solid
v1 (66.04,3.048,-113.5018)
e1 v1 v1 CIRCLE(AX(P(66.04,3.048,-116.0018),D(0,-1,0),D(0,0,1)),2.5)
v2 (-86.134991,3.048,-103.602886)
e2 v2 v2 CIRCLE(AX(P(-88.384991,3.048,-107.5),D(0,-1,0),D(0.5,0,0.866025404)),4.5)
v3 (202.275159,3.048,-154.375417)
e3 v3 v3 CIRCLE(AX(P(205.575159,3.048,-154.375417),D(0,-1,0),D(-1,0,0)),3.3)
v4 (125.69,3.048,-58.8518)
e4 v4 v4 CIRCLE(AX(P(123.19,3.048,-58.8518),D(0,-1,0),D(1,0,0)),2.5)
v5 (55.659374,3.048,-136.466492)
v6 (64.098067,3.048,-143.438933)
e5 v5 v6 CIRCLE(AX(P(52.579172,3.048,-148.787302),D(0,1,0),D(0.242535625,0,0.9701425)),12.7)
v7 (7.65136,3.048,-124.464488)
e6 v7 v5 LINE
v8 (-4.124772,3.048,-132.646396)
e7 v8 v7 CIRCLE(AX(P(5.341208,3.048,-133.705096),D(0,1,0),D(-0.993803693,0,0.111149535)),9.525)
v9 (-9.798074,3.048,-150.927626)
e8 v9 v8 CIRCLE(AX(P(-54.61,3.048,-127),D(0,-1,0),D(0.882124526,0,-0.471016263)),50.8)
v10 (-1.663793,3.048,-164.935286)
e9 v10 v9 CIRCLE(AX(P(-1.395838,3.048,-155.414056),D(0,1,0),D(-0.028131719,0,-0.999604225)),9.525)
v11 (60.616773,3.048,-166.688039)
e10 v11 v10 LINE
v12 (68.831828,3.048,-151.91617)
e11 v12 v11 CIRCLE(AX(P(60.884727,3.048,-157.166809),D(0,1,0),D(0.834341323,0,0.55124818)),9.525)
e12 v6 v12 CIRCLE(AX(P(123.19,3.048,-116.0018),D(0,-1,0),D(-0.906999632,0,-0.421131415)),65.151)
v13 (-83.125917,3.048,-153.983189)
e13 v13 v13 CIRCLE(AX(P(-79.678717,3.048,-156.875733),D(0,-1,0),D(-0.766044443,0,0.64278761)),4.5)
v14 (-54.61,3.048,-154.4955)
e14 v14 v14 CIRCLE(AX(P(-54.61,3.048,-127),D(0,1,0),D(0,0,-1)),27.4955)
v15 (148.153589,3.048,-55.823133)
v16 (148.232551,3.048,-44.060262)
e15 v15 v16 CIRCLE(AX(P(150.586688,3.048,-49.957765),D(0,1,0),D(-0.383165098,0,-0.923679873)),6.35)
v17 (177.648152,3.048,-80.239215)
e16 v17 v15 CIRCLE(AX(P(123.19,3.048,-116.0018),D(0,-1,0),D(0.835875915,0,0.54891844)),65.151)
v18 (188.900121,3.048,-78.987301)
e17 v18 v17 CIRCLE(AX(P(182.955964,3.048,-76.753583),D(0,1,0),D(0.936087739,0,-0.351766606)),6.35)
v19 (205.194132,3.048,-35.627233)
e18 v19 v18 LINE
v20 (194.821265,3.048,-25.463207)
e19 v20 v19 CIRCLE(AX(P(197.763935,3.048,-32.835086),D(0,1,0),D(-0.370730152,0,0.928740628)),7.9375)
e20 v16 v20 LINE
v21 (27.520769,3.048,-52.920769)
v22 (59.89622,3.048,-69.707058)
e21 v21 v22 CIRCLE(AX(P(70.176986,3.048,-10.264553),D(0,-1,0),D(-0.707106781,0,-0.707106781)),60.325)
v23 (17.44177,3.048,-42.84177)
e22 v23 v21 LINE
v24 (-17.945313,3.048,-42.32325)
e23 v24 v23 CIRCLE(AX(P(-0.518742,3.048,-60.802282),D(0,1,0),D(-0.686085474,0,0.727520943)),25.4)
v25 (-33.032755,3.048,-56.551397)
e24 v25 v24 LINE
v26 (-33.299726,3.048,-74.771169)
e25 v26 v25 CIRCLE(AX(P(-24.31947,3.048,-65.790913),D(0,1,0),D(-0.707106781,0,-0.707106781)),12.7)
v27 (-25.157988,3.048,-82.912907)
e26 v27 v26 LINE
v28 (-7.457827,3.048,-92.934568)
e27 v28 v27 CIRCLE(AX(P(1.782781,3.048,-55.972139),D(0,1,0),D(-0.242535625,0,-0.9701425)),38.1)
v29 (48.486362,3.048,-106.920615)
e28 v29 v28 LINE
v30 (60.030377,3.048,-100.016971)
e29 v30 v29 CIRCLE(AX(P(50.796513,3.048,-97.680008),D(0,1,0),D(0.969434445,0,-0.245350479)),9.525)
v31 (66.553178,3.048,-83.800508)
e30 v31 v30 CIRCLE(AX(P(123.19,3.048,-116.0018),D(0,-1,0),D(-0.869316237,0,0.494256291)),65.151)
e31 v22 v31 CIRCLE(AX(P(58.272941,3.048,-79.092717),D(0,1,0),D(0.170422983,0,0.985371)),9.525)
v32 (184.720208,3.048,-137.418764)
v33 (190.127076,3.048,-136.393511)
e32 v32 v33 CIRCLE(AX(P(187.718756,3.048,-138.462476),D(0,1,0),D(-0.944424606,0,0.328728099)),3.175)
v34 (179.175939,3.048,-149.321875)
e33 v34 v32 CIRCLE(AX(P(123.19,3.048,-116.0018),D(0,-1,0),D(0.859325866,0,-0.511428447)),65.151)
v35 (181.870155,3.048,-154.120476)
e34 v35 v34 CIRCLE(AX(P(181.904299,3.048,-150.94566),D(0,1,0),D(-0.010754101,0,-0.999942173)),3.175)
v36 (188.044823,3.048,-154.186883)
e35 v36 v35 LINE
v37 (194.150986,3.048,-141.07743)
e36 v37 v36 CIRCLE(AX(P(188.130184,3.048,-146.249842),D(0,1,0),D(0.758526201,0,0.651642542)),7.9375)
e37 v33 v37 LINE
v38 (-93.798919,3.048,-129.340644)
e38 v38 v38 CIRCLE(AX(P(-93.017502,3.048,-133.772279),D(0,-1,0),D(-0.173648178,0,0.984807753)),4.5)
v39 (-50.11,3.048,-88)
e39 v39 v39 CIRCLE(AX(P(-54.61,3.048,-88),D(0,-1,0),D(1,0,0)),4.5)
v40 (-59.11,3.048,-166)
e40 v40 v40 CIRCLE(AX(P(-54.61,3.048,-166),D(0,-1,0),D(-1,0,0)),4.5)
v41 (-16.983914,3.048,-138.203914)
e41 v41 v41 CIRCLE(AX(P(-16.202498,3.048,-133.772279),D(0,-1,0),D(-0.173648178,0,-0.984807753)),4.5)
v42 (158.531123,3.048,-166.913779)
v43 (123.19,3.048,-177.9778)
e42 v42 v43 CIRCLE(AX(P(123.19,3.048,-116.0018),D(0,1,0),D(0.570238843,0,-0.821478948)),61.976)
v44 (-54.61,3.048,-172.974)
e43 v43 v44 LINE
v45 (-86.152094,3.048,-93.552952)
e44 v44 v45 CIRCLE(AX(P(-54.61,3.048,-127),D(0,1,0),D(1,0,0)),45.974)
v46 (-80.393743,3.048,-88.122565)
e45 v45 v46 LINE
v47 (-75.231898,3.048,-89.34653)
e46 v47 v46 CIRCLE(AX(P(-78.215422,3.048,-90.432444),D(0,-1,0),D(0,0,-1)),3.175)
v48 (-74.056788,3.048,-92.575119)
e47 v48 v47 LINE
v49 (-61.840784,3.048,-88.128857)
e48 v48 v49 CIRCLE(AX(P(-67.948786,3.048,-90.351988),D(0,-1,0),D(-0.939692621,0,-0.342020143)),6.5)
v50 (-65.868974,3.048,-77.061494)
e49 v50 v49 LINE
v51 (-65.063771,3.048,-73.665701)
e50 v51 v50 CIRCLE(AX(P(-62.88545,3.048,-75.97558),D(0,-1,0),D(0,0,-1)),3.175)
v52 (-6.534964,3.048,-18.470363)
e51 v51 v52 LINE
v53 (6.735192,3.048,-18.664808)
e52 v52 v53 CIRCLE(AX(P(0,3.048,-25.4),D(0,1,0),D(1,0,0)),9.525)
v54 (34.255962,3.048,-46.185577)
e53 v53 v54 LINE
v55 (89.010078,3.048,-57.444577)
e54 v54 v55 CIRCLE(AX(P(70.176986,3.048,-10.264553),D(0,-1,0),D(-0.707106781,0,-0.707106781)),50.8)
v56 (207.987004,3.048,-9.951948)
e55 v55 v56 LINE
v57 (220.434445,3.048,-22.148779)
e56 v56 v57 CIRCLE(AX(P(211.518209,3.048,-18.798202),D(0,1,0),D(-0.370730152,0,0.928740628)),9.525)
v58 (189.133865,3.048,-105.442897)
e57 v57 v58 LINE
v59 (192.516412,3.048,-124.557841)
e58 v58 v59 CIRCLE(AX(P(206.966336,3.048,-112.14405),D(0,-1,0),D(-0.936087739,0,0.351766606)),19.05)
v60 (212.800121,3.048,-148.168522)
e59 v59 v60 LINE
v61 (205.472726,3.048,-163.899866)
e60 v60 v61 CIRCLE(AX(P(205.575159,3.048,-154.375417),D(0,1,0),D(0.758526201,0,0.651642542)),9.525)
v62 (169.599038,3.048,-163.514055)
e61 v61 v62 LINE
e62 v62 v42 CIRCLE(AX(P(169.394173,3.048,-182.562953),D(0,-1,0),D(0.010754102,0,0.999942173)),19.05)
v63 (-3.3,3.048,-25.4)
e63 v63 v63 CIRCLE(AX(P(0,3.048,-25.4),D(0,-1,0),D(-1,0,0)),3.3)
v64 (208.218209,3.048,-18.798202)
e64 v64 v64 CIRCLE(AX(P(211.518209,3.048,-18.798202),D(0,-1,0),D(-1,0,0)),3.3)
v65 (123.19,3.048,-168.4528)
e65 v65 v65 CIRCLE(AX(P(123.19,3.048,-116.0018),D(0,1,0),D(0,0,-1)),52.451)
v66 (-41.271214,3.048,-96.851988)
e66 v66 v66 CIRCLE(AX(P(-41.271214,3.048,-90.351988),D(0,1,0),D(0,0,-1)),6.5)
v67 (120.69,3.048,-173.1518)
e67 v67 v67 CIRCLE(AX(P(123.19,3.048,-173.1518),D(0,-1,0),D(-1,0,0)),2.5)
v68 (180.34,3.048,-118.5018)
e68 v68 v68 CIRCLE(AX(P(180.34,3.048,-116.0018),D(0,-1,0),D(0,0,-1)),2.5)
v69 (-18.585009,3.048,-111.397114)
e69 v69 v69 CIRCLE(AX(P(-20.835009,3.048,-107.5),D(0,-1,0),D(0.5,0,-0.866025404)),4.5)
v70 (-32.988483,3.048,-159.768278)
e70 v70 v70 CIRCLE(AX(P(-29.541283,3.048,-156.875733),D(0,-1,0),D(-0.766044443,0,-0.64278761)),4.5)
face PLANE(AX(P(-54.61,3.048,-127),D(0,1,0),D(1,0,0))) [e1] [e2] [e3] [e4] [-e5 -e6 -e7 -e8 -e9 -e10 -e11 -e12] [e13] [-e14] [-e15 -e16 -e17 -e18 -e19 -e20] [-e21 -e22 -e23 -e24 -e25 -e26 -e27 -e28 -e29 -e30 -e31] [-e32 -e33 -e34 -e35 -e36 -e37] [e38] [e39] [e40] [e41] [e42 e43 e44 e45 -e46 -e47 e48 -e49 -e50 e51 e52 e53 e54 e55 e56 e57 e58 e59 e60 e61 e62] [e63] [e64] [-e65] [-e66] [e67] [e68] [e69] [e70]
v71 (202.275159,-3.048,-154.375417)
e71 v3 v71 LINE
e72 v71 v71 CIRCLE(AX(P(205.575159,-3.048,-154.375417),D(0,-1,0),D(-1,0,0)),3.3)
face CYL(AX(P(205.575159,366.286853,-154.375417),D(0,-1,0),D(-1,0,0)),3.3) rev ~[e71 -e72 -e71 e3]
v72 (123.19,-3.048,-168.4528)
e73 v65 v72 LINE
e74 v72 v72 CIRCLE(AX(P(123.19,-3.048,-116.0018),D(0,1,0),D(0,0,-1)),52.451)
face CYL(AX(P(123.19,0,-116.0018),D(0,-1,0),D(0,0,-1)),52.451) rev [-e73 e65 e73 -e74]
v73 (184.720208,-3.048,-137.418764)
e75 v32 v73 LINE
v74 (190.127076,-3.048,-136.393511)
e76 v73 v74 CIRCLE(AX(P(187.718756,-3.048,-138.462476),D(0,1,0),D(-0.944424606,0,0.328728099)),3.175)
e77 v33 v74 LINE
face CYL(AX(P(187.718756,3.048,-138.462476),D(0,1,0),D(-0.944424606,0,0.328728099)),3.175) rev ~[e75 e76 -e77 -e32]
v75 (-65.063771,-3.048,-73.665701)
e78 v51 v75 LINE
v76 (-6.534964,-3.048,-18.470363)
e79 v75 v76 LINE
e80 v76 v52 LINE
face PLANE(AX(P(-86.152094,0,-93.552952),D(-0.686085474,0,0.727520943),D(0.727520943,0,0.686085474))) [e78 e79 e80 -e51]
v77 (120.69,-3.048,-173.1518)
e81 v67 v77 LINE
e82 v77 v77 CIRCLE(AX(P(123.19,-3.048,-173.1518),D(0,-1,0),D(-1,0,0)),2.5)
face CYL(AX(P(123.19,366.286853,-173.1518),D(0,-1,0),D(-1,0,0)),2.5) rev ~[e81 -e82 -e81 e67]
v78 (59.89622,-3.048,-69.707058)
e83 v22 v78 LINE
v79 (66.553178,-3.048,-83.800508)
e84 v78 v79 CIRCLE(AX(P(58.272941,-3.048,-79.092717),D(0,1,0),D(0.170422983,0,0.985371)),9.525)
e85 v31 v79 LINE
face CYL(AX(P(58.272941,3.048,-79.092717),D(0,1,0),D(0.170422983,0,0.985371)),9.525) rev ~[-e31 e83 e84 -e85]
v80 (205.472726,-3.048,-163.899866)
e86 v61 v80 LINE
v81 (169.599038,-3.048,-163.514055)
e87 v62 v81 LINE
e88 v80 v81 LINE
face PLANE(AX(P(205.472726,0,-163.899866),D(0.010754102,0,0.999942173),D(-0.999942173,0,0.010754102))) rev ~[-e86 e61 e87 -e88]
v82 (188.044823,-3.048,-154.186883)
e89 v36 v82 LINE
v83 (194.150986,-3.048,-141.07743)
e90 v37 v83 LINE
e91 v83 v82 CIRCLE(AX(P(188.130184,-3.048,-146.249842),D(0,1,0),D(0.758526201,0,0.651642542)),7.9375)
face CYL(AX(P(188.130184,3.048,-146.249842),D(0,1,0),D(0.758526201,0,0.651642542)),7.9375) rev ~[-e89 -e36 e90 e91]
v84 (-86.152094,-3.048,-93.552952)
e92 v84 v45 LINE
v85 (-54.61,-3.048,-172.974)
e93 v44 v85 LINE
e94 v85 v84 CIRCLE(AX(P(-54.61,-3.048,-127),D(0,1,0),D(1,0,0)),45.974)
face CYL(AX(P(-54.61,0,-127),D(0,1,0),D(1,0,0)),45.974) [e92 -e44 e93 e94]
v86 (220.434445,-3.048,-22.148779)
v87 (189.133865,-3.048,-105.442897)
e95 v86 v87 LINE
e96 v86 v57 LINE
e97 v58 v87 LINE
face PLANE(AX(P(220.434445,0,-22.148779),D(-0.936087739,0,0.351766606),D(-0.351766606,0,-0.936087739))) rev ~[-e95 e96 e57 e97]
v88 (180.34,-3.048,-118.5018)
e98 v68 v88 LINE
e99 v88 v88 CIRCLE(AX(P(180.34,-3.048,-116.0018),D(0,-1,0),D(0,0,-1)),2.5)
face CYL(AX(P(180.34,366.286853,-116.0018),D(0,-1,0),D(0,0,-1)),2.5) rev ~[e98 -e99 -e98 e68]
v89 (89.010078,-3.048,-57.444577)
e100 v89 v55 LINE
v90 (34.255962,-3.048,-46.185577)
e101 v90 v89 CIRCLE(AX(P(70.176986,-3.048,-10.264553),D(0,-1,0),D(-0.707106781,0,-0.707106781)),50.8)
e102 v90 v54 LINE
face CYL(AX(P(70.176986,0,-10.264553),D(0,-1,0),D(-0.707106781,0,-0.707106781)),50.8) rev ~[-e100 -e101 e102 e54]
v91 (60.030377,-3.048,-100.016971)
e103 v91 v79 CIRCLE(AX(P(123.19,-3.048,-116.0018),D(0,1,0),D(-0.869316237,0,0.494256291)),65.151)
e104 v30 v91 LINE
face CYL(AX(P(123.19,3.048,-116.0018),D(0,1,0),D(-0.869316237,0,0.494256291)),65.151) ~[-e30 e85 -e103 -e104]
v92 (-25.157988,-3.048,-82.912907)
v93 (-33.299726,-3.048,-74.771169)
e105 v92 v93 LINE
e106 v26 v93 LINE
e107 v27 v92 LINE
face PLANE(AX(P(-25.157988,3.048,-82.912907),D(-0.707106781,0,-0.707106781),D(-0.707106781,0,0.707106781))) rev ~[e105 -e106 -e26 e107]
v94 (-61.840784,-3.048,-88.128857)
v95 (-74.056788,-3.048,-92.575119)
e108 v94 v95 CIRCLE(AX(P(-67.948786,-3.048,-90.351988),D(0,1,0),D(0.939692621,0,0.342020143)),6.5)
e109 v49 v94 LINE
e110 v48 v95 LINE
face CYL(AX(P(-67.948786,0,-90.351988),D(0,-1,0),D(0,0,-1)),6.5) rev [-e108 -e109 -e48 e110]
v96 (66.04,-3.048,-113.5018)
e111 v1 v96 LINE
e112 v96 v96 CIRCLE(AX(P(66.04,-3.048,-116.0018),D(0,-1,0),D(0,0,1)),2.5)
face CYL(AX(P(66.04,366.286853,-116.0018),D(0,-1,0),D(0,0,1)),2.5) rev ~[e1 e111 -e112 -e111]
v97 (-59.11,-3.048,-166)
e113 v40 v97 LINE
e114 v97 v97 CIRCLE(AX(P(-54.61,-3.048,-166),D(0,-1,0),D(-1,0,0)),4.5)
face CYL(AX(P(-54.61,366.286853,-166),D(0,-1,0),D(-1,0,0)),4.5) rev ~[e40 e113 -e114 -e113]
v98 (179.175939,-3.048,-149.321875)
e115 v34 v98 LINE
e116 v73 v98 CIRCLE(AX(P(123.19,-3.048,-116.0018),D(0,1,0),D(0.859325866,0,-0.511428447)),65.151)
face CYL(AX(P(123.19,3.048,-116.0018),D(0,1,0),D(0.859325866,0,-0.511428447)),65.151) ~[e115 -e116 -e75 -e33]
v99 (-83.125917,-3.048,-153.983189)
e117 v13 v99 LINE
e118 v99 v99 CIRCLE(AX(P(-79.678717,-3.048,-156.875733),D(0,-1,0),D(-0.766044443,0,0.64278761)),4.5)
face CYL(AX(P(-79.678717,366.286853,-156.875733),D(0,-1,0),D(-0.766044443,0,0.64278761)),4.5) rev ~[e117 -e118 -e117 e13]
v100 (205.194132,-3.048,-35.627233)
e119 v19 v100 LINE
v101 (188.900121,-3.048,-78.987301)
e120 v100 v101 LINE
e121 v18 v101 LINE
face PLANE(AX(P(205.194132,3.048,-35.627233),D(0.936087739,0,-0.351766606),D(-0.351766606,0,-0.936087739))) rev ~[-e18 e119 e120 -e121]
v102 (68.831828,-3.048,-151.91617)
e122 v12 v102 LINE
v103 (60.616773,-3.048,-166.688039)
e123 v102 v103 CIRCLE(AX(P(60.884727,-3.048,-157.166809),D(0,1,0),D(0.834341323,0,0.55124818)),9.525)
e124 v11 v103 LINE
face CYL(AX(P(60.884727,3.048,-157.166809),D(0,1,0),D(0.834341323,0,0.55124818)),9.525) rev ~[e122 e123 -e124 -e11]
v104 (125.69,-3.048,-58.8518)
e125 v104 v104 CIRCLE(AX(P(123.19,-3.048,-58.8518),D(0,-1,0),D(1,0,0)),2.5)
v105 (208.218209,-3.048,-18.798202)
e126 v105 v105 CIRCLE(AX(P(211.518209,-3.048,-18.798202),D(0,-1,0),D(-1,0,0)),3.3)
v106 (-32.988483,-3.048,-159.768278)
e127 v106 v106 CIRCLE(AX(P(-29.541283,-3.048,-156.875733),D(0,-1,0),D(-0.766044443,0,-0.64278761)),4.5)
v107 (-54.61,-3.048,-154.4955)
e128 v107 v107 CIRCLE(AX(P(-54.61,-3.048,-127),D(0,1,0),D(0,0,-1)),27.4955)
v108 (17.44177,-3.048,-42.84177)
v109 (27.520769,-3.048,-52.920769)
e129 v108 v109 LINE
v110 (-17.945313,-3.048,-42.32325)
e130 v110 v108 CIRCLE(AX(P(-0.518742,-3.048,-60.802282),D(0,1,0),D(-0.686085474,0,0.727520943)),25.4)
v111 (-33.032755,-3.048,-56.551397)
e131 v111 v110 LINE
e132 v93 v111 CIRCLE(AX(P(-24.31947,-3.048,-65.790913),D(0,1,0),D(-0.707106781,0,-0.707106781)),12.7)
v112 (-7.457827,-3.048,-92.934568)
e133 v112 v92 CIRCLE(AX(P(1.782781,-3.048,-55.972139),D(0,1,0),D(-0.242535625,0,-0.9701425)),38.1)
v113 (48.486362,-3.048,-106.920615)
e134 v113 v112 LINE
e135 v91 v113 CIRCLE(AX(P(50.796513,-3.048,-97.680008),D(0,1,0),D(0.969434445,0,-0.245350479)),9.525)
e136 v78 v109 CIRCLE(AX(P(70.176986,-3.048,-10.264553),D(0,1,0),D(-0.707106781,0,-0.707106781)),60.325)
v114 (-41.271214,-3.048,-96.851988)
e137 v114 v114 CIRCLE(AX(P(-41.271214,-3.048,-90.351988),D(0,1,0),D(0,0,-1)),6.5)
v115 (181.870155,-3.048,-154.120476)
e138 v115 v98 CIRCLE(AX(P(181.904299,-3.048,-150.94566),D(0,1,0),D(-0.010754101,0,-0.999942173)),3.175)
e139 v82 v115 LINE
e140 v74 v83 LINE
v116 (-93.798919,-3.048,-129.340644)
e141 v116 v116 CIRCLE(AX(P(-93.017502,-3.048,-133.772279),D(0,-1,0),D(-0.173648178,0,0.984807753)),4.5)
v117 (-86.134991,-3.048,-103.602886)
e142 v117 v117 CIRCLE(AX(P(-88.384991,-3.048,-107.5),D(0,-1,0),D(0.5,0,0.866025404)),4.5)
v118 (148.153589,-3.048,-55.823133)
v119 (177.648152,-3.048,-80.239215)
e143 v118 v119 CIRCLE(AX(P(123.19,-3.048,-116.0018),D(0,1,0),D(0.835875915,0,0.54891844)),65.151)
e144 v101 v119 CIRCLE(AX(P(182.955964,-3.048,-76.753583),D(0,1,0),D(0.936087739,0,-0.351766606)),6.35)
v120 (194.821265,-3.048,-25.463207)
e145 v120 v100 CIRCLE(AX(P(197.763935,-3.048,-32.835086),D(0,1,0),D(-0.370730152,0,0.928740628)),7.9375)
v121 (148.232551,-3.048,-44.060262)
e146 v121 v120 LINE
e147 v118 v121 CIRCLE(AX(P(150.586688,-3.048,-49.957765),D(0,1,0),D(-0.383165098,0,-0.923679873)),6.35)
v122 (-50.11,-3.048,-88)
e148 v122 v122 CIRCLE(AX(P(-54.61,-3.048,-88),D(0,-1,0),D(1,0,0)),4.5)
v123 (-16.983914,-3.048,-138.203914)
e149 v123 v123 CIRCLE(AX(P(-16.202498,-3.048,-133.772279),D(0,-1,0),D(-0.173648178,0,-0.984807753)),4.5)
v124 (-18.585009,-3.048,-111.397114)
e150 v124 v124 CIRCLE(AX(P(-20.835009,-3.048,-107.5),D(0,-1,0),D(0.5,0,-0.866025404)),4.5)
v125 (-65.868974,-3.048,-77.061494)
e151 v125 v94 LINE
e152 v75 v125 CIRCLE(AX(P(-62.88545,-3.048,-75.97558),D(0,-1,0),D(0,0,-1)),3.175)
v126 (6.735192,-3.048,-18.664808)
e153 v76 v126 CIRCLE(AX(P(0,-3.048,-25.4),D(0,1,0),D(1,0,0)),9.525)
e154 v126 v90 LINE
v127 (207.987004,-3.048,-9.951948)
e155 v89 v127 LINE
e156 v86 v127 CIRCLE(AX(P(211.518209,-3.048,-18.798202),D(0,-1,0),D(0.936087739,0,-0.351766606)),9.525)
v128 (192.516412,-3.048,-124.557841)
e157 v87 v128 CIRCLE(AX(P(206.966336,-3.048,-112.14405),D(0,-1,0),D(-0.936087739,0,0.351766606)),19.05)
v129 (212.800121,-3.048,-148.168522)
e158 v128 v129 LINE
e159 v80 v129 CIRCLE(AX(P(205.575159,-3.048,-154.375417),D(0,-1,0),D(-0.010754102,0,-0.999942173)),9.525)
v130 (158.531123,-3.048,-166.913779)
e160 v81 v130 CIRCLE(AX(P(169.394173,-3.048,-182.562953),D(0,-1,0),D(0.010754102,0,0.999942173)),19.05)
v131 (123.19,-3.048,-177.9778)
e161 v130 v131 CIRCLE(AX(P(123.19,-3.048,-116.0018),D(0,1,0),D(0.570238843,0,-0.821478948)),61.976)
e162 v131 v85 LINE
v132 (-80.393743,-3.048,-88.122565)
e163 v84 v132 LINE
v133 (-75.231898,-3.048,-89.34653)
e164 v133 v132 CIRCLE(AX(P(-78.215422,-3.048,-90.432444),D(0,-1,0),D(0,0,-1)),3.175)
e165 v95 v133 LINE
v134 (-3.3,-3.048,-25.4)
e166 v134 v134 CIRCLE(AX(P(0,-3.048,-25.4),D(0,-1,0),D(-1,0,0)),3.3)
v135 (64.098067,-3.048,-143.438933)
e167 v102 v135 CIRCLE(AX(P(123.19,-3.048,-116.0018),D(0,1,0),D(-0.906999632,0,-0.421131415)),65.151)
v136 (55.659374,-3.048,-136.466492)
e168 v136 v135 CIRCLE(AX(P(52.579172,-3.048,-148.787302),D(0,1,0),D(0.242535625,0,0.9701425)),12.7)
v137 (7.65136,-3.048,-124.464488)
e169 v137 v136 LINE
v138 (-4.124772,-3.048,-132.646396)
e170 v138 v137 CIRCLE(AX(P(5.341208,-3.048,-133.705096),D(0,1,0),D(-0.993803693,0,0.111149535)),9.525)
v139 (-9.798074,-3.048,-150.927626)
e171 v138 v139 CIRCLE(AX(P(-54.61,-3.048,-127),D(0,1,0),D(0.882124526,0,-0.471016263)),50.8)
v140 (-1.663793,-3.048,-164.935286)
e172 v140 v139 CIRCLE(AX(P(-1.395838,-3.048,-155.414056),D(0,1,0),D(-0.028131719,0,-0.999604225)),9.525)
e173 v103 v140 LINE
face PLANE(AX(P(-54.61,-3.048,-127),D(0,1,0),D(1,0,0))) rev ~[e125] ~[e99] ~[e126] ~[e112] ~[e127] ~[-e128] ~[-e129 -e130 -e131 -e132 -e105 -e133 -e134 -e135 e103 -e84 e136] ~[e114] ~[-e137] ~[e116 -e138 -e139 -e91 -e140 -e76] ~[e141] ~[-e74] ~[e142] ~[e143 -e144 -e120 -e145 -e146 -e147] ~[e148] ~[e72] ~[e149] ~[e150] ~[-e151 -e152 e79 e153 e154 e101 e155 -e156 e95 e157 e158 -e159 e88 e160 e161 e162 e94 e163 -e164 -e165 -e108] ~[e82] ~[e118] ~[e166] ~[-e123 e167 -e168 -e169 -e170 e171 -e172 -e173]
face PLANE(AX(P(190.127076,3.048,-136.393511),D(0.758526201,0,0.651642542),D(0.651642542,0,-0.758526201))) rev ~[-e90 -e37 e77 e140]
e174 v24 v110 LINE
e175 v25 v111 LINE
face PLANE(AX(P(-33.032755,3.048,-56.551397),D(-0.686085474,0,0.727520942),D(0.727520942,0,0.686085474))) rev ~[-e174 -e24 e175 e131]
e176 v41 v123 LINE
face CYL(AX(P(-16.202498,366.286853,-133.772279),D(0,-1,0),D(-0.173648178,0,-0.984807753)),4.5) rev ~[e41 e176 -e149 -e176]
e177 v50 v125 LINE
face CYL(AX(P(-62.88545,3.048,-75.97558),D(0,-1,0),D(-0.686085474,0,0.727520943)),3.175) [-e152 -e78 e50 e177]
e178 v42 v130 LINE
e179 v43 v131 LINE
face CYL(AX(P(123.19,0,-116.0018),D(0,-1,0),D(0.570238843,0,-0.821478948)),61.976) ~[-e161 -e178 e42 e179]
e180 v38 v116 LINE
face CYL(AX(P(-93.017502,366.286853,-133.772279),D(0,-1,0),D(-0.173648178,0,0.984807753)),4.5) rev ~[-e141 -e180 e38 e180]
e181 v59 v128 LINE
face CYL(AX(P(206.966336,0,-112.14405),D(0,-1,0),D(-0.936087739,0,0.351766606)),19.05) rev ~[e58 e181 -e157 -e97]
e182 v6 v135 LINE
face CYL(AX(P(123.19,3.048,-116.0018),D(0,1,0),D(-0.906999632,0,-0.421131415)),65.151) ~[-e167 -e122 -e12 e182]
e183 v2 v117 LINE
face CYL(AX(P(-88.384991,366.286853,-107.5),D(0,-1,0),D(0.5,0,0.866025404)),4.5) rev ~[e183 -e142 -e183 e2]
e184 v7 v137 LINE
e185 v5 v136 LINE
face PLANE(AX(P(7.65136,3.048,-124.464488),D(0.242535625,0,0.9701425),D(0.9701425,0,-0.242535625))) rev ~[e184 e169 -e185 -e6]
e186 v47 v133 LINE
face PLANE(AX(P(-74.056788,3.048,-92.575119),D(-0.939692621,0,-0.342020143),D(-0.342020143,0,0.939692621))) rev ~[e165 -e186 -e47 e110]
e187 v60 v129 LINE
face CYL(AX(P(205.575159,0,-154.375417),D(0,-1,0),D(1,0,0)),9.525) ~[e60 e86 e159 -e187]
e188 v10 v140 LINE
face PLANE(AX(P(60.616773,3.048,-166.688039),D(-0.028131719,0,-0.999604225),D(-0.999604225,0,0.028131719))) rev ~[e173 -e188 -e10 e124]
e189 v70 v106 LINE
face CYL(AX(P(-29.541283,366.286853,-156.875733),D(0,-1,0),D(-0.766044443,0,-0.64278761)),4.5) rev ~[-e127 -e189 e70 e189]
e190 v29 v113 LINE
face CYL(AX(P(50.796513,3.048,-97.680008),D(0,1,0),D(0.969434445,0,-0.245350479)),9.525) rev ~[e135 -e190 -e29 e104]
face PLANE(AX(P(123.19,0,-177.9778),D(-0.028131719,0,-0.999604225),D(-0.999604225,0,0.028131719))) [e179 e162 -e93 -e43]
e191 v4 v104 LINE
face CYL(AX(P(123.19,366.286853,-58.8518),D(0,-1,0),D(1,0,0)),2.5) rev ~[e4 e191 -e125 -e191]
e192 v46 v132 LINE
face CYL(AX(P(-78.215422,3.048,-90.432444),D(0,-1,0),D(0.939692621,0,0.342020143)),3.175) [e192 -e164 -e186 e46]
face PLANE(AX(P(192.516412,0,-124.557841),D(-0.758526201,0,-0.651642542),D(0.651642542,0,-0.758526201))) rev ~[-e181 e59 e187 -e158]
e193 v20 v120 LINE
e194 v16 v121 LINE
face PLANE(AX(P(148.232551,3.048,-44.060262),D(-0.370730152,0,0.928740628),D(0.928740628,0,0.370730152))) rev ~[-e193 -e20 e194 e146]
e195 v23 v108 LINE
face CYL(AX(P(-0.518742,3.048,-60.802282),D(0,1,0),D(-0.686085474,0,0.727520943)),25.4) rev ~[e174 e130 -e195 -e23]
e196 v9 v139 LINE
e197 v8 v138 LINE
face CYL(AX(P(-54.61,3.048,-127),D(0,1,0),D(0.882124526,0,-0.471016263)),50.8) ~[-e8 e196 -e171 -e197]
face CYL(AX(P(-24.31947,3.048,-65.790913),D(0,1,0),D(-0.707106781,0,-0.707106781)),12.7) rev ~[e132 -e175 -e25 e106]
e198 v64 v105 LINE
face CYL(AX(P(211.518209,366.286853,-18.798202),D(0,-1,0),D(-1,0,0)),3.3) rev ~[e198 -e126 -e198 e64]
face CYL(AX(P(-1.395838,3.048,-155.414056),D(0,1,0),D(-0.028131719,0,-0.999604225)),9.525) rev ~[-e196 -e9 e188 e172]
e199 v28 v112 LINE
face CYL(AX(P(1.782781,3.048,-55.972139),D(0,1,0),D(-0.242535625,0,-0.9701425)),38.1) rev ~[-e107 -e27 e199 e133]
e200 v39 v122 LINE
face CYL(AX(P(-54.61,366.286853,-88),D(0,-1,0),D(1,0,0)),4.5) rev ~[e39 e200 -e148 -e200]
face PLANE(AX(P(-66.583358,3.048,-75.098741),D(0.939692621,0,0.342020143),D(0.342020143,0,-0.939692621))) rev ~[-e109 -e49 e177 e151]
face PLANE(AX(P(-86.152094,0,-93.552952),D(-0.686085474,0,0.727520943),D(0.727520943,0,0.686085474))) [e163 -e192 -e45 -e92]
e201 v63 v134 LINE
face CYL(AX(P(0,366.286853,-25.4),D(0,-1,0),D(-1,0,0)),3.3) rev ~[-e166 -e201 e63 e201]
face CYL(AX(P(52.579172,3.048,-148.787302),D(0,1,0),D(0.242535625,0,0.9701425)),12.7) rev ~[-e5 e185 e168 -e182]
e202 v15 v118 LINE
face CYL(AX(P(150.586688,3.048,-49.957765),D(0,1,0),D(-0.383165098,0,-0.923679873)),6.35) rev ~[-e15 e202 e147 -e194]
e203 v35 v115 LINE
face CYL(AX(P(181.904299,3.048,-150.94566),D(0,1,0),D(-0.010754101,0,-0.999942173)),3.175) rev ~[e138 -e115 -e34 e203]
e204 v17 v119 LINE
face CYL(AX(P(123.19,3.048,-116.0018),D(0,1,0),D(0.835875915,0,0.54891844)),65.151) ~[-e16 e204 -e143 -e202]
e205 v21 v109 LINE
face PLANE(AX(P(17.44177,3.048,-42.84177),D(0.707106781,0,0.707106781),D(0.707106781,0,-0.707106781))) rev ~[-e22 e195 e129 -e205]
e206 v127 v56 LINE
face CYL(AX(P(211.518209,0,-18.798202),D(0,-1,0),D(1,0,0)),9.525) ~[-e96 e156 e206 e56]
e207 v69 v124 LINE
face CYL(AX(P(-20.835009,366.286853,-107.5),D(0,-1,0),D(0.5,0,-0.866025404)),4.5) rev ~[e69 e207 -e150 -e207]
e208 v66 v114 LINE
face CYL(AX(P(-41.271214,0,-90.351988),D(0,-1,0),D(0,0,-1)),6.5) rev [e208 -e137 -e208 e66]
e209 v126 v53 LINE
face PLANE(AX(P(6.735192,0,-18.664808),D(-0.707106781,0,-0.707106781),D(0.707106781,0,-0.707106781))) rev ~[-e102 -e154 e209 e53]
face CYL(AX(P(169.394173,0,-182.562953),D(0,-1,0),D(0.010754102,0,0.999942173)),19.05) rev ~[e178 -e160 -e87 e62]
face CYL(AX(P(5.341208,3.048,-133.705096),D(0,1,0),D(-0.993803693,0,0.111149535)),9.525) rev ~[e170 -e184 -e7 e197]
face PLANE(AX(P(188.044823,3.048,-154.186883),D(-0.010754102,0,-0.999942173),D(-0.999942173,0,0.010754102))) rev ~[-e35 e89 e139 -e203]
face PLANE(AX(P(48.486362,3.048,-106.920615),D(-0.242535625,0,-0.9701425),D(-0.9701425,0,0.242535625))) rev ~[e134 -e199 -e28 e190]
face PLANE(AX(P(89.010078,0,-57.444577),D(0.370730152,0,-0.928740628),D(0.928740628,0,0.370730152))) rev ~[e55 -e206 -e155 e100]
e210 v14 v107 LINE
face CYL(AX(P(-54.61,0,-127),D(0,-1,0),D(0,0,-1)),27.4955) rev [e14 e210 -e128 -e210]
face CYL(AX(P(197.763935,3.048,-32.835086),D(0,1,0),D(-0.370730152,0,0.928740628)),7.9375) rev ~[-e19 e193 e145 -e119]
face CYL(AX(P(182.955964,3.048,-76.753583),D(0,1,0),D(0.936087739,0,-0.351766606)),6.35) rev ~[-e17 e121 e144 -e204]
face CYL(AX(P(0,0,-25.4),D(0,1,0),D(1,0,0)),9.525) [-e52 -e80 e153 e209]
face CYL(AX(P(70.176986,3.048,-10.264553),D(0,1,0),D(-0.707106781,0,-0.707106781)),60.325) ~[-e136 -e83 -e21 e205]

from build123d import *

# Parameters (mm, degrees)
MASTER_SKETCH_R       = 52.451
MASTER_SKETCH_R_2     = 9.525
MASTER_SKETCH_R_3     = 45.974
MASTER_SKETCH_R_4     = 27.4955
MASTER_SKETCH_R_5     = 6.5
BOSS_EXTRUDE2_DEPTH   = 3.048
F_5_0MM_DOWEL_HOLE1_D = 5
CIRPATTERN4_COUNT     = 4
M6_CLEARANCE_HOLE4_D  = 6.6
M8_CLEARANCE_HOLE1_D  = 9
CIRPATTERN3_COUNT     = 18
CUT_EXTRUDE2_DEPTH    = 284.854467488
CUT_EXTRUDE4_DEPTH    = 284.854467488
FILLET1_R             = 3.175


with BuildPart() as part:
    # Master Sketch → Boss-Extrude2 (new, symmetric)
    # profile 1 of 5: a face of its own
    with BuildSketch(Plane(origin=(0, 0, 0), x_dir=(1, 0, 0), z_dir=(0, 1, 0))):
        with BuildLine():
            ThreePointArc((-8.636, 127), (-36.396097826, 84.787887478), (-86.152093601, 93.552952189))
            Line((-86.152093601, 93.552952189), (-6.534964144, 18.470363023))
            ThreePointArc((-6.534964144, 18.470363023), (-3.773598517, 34.145603423), (9.525, 25.4))
            ThreePointArc((9.525, 25.4), (8.799952547, 21.754940307), (6.735192091, 18.664807909))
            Line((6.735192091, 18.664807909), (34.255961574, 46.185577392))
            ThreePointArc((34.255961574, 46.185577392), (59.945142207, 60.02346539), (89.010077776, 57.44457682))
            Line((89.010077776, 57.44457682), (207.987004211, 9.951947906))
            ThreePointArc((207.987004211, 9.951947906), (204.851852042, 25.601533276), (220.43444462, 22.148779315))
            Line((220.43444462, 22.148779315), (189.133864847, 105.44289655))
            ThreePointArc((189.133864847, 105.44289655), (188.207777178, 115.4635324), (192.51641215, 124.557840832))
            Line((192.51641215, 124.557840832), (212.800120602, 148.168522003))
            ThreePointArc((212.800120602, 148.168522003), (196.940842995, 150.353698677), (205.472725722, 163.899866417))
            Line((205.472725722, 163.899866417), (169.599038165, 163.514054819))
            ThreePointArc((169.599038165, 163.514054819), (163.800537316, 164.352688386), (158.531122559, 166.913779261))
            ThreePointArc((158.531122559, 166.913779261), (141.706259737, 175.147152322), (123.19, 177.9778))
            Line((123.19, 177.9778), (-54.61, 172.974))
            ThreePointArc((-54.61, 172.974), (-22.101472842, 159.508527158), (-8.636, 127))
        make_face()
        with Locations(Location((123.19, 116.0018, 0), (0, 0, 90))):
            Circle(MASTER_SKETCH_R, mode=Mode.SUBTRACT)
    # profile 2 of 5: a face of its own
    with BuildSketch(Plane(origin=(0, 0, 0), x_dir=(1, 0, 0), z_dir=(0, 1, 0))):
        with Locations((0, 25.4)):
            Circle(MASTER_SKETCH_R_2)
    # profile 3 of 5: a face of its own
    with BuildSketch(Plane(origin=(0, 0, 0), x_dir=(1, 0, 0), z_dir=(0, 1, 0))):
        with Locations((211.518208908, 18.79820239)):
            Circle(MASTER_SKETCH_R_2)
    # profile 4 of 5: a face of its own
    with BuildSketch(Plane(origin=(0, 0, 0), x_dir=(1, 0, 0), z_dir=(0, 1, 0))):
        with Locations((205.575158542, 154.375417219)):
            Circle(MASTER_SKETCH_R_2)
    # profile 5 of 5: a face of its own
    with BuildSketch(Plane(origin=(0, 0, 0), x_dir=(1, 0, 0), z_dir=(0, 1, 0))):
        with Locations((-54.61, 127)):
            Circle(MASTER_SKETCH_R_3)
        with Locations(Location((-54.61, 127, 0), (0, 0, 90))):
            Circle(MASTER_SKETCH_R_4, mode=Mode.SUBTRACT)
        with Locations(Location((-41.27121441, 90.351987789, 0), (0, 0, 90))):
            Circle(MASTER_SKETCH_R_5, mode=Mode.SUBTRACT)
        with Locations(Location((-67.94878559, 90.351987789, 0), (0, 0, 90))):
            Circle(MASTER_SKETCH_R_5, mode=Mode.SUBTRACT)
    extrude(amount=BOSS_EXTRUDE2_DEPTH, both=True)

    # Ø5.0mm Dowel Hole1 (through all)
    with Locations(Plane(origin=(0, 3.048, 0), x_dir=(1, 0, 0), z_dir=(0, 1, 0))):
        with Locations((123.19, 173.1518)):
            f_5_0mm_dowel_hole1 = Hole(F_5_0MM_DOWEL_HOLE1_D / 2)

    # CirPattern4: Ø5.0mm Dowel Hole1 ×4 about axis
    cirpattern4_axis = Axis((123.19, 0, -116.0018), (0, 1, 0))
    for i in range(1, CIRPATTERN4_COUNT):
        add(f_5_0mm_dowel_hole1.rotate(cirpattern4_axis, i * 360 / CIRPATTERN4_COUNT), mode=Mode.SUBTRACT)

    # M6 Clearance Hole4 (through all)
    with Locations(Plane(origin=(0, 3.048, 0), x_dir=(1, 0, 0), z_dir=(0, 1, 0))):
        with Locations((205.575158542, 154.375417219), (211.518208908, 18.79820239), (0, 25.4)):
            Hole(M6_CLEARANCE_HOLE4_D / 2)

    # M8 Clearance Hole1 (through all)
    with Locations(Plane(origin=(0, 3.048, 0), x_dir=(1, 0, 0), z_dir=(0, 1, 0))):
        with Locations((-54.61, 166)):
            m8_clearance_hole1 = Hole(M8_CLEARANCE_HOLE1_D / 2)

    # CirPattern3: M8 Clearance Hole1 ×18 about axis, 10 skipped
    cirpattern3_axis = Axis((-54.61, 3.048, -127), (0, -1, 0))
    add([m8_clearance_hole1.rotate(cirpattern3_axis, i * 360 / CIRPATTERN3_COUNT) for i in range(1, CIRPATTERN3_COUNT) if i not in (1, 3, 5, 7, 8, 10, 11, 13, 15, 17)], mode=Mode.SUBTRACT)

    # Topology 3 → Cut-Extrude2 (cut, through all)
    with BuildSketch(Plane(origin=(0, 3.048, 0), x_dir=(1, 0, 0), z_dir=(0, 1, 0))):
        with BuildLine():
            Line((148.232551201, 44.060262413), (194.821264757, 25.463207079))
            ThreePointArc((194.821264757, 25.463207079), (203.319232726, 27.16564341), (205.194131764, 35.627233252))
            Line((205.194131764, 35.627233252), (188.900120968, 78.987300553))
            ThreePointArc((188.900120968, 78.987300553), (183.658143307, 83.064639882), (177.648151764, 80.239214699))
            ThreePointArc((177.648151764, 80.239214699), (164.735029841, 65.81551406), (148.153589294, 55.823132596))
            ThreePointArc((148.153589294, 55.823132596), (144.236830733, 49.915140022), (148.232551201, 44.060262413))
        make_face()
        with BuildLine():
            Line((188.044823271, 154.186883307), (181.870154841, 154.120476454))
            ThreePointArc((181.870154841, 154.120476454), (179.135815493, 152.500048502), (179.17593949, 149.321874737))
            ThreePointArc((179.17593949, 149.321874737), (182.248718341, 143.510354832), (184.720207534, 137.418764347))
            ThreePointArc((184.720207534, 137.418764347), (187.127250613, 135.343061567), (190.127076346, 136.393510988))
            Line((190.127076346, 136.393510988), (194.150985671, 141.077429629))
            ThreePointArc((194.150985671, 141.077429629), (195.32544691, 149.601274428), (188.044823271, 154.186883307))
        make_face()
        with BuildLine():
            Line((17.44176984, 42.84176984), (27.520769483, 52.920769483))
            ThreePointArc((27.520769483, 52.920769483), (42.409632623, 63.819008448), (59.896219631, 69.707058463))
            ThreePointArc((59.896219631, 69.707058463), (66.885503662, 75.024623751), (66.553177874, 83.800508404))
            ThreePointArc((66.553177874, 83.800508404), (62.745475764, 91.688999032), (60.030376503, 100.016970919))
            ThreePointArc((60.030376503, 100.016970919), (55.6852269, 105.854731176), (48.48636159, 106.920614917))
            Line((48.48636159, 106.920614917), (-7.457826773, 92.934567826))
            ThreePointArc((-7.457826773, 92.934567826), (-16.98904431, 89.126755018), (-25.157987823, 82.912906934))
            Line((-25.157987823, 82.912906934), (-33.299725858, 74.771168898))
            ThreePointArc((-33.299725858, 74.771168898), (-37.018106584, 65.604842248), (-33.032755262, 56.551396808))
            Line((-33.032755262, 56.551396808), (-17.945313453, 42.323250142))
            ThreePointArc((-17.945313453, 42.323250142), (-0.146601343, 35.405008389), (17.44176984, 42.84176984))
        make_face()
        with BuildLine():
            Line((60.61677272, 166.688039353), (-1.663792567, 164.935286301))
            ThreePointArc((-1.663792567, 164.935286301), (-9.632748017, 160.197249287), (-9.798074059, 150.927626155))
            ThreePointArc((-9.798074059, 150.927626155), (-6.09260405, 142.056636088), (-4.12477238, 132.646396384))
            ThreePointArc((-4.12477238, 132.646396384), (-0.093621954, 125.882803807), (7.651359628, 124.464488392))
            Line((7.651359628, 124.464488392), (55.659374127, 136.466492017))
            ThreePointArc((55.659374127, 136.466492017), (60.668494681, 138.996854714), (64.098067009, 143.438932802))
            ThreePointArc((64.098067009, 143.438932802), (66.306808777, 147.765857633), (68.831828447, 151.916170194))
            ThreePointArc((68.831828447, 151.916170194), (69.209050275, 161.796201373), (60.61677272, 166.688039353))
        make_face()
    extrude(amount=-CUT_EXTRUDE2_DEPTH, mode=Mode.SUBTRACT)

    # Sketch29 → Cut-Extrude4 (cut, through all)
    with BuildSketch(Plane(origin=(0, 3.048, 0), x_dir=(1, 0, 0), z_dir=(0, 1, 0))):
        with BuildLine():
            Line((-74.056787625, 92.575118721), (-76.882563864, 84.811362311))
            Line((-76.882563864, 84.811362311), (-66.583357956, 75.098740778))
            Line((-66.583357956, 75.098740778), (-61.840783555, 88.128856858))
            ThreePointArc((-61.840783555, 88.128856858), (-70.171916521, 84.243985754), (-74.056787625, 92.575118721))
        make_face()
    extrude(amount=-CUT_EXTRUDE4_DEPTH, mode=Mode.SUBTRACT)

    # Fillet1
    fillet1_edges = [part.edges().sort_by_distance(p)[0] for p in [
        (-66.583357956, 0, -75.098740778),
        (-76.882563864, 0, -84.811362311),
    ]]
    fillet(fillet1_edges, radius=FILLET1_R)


solid = part.part
